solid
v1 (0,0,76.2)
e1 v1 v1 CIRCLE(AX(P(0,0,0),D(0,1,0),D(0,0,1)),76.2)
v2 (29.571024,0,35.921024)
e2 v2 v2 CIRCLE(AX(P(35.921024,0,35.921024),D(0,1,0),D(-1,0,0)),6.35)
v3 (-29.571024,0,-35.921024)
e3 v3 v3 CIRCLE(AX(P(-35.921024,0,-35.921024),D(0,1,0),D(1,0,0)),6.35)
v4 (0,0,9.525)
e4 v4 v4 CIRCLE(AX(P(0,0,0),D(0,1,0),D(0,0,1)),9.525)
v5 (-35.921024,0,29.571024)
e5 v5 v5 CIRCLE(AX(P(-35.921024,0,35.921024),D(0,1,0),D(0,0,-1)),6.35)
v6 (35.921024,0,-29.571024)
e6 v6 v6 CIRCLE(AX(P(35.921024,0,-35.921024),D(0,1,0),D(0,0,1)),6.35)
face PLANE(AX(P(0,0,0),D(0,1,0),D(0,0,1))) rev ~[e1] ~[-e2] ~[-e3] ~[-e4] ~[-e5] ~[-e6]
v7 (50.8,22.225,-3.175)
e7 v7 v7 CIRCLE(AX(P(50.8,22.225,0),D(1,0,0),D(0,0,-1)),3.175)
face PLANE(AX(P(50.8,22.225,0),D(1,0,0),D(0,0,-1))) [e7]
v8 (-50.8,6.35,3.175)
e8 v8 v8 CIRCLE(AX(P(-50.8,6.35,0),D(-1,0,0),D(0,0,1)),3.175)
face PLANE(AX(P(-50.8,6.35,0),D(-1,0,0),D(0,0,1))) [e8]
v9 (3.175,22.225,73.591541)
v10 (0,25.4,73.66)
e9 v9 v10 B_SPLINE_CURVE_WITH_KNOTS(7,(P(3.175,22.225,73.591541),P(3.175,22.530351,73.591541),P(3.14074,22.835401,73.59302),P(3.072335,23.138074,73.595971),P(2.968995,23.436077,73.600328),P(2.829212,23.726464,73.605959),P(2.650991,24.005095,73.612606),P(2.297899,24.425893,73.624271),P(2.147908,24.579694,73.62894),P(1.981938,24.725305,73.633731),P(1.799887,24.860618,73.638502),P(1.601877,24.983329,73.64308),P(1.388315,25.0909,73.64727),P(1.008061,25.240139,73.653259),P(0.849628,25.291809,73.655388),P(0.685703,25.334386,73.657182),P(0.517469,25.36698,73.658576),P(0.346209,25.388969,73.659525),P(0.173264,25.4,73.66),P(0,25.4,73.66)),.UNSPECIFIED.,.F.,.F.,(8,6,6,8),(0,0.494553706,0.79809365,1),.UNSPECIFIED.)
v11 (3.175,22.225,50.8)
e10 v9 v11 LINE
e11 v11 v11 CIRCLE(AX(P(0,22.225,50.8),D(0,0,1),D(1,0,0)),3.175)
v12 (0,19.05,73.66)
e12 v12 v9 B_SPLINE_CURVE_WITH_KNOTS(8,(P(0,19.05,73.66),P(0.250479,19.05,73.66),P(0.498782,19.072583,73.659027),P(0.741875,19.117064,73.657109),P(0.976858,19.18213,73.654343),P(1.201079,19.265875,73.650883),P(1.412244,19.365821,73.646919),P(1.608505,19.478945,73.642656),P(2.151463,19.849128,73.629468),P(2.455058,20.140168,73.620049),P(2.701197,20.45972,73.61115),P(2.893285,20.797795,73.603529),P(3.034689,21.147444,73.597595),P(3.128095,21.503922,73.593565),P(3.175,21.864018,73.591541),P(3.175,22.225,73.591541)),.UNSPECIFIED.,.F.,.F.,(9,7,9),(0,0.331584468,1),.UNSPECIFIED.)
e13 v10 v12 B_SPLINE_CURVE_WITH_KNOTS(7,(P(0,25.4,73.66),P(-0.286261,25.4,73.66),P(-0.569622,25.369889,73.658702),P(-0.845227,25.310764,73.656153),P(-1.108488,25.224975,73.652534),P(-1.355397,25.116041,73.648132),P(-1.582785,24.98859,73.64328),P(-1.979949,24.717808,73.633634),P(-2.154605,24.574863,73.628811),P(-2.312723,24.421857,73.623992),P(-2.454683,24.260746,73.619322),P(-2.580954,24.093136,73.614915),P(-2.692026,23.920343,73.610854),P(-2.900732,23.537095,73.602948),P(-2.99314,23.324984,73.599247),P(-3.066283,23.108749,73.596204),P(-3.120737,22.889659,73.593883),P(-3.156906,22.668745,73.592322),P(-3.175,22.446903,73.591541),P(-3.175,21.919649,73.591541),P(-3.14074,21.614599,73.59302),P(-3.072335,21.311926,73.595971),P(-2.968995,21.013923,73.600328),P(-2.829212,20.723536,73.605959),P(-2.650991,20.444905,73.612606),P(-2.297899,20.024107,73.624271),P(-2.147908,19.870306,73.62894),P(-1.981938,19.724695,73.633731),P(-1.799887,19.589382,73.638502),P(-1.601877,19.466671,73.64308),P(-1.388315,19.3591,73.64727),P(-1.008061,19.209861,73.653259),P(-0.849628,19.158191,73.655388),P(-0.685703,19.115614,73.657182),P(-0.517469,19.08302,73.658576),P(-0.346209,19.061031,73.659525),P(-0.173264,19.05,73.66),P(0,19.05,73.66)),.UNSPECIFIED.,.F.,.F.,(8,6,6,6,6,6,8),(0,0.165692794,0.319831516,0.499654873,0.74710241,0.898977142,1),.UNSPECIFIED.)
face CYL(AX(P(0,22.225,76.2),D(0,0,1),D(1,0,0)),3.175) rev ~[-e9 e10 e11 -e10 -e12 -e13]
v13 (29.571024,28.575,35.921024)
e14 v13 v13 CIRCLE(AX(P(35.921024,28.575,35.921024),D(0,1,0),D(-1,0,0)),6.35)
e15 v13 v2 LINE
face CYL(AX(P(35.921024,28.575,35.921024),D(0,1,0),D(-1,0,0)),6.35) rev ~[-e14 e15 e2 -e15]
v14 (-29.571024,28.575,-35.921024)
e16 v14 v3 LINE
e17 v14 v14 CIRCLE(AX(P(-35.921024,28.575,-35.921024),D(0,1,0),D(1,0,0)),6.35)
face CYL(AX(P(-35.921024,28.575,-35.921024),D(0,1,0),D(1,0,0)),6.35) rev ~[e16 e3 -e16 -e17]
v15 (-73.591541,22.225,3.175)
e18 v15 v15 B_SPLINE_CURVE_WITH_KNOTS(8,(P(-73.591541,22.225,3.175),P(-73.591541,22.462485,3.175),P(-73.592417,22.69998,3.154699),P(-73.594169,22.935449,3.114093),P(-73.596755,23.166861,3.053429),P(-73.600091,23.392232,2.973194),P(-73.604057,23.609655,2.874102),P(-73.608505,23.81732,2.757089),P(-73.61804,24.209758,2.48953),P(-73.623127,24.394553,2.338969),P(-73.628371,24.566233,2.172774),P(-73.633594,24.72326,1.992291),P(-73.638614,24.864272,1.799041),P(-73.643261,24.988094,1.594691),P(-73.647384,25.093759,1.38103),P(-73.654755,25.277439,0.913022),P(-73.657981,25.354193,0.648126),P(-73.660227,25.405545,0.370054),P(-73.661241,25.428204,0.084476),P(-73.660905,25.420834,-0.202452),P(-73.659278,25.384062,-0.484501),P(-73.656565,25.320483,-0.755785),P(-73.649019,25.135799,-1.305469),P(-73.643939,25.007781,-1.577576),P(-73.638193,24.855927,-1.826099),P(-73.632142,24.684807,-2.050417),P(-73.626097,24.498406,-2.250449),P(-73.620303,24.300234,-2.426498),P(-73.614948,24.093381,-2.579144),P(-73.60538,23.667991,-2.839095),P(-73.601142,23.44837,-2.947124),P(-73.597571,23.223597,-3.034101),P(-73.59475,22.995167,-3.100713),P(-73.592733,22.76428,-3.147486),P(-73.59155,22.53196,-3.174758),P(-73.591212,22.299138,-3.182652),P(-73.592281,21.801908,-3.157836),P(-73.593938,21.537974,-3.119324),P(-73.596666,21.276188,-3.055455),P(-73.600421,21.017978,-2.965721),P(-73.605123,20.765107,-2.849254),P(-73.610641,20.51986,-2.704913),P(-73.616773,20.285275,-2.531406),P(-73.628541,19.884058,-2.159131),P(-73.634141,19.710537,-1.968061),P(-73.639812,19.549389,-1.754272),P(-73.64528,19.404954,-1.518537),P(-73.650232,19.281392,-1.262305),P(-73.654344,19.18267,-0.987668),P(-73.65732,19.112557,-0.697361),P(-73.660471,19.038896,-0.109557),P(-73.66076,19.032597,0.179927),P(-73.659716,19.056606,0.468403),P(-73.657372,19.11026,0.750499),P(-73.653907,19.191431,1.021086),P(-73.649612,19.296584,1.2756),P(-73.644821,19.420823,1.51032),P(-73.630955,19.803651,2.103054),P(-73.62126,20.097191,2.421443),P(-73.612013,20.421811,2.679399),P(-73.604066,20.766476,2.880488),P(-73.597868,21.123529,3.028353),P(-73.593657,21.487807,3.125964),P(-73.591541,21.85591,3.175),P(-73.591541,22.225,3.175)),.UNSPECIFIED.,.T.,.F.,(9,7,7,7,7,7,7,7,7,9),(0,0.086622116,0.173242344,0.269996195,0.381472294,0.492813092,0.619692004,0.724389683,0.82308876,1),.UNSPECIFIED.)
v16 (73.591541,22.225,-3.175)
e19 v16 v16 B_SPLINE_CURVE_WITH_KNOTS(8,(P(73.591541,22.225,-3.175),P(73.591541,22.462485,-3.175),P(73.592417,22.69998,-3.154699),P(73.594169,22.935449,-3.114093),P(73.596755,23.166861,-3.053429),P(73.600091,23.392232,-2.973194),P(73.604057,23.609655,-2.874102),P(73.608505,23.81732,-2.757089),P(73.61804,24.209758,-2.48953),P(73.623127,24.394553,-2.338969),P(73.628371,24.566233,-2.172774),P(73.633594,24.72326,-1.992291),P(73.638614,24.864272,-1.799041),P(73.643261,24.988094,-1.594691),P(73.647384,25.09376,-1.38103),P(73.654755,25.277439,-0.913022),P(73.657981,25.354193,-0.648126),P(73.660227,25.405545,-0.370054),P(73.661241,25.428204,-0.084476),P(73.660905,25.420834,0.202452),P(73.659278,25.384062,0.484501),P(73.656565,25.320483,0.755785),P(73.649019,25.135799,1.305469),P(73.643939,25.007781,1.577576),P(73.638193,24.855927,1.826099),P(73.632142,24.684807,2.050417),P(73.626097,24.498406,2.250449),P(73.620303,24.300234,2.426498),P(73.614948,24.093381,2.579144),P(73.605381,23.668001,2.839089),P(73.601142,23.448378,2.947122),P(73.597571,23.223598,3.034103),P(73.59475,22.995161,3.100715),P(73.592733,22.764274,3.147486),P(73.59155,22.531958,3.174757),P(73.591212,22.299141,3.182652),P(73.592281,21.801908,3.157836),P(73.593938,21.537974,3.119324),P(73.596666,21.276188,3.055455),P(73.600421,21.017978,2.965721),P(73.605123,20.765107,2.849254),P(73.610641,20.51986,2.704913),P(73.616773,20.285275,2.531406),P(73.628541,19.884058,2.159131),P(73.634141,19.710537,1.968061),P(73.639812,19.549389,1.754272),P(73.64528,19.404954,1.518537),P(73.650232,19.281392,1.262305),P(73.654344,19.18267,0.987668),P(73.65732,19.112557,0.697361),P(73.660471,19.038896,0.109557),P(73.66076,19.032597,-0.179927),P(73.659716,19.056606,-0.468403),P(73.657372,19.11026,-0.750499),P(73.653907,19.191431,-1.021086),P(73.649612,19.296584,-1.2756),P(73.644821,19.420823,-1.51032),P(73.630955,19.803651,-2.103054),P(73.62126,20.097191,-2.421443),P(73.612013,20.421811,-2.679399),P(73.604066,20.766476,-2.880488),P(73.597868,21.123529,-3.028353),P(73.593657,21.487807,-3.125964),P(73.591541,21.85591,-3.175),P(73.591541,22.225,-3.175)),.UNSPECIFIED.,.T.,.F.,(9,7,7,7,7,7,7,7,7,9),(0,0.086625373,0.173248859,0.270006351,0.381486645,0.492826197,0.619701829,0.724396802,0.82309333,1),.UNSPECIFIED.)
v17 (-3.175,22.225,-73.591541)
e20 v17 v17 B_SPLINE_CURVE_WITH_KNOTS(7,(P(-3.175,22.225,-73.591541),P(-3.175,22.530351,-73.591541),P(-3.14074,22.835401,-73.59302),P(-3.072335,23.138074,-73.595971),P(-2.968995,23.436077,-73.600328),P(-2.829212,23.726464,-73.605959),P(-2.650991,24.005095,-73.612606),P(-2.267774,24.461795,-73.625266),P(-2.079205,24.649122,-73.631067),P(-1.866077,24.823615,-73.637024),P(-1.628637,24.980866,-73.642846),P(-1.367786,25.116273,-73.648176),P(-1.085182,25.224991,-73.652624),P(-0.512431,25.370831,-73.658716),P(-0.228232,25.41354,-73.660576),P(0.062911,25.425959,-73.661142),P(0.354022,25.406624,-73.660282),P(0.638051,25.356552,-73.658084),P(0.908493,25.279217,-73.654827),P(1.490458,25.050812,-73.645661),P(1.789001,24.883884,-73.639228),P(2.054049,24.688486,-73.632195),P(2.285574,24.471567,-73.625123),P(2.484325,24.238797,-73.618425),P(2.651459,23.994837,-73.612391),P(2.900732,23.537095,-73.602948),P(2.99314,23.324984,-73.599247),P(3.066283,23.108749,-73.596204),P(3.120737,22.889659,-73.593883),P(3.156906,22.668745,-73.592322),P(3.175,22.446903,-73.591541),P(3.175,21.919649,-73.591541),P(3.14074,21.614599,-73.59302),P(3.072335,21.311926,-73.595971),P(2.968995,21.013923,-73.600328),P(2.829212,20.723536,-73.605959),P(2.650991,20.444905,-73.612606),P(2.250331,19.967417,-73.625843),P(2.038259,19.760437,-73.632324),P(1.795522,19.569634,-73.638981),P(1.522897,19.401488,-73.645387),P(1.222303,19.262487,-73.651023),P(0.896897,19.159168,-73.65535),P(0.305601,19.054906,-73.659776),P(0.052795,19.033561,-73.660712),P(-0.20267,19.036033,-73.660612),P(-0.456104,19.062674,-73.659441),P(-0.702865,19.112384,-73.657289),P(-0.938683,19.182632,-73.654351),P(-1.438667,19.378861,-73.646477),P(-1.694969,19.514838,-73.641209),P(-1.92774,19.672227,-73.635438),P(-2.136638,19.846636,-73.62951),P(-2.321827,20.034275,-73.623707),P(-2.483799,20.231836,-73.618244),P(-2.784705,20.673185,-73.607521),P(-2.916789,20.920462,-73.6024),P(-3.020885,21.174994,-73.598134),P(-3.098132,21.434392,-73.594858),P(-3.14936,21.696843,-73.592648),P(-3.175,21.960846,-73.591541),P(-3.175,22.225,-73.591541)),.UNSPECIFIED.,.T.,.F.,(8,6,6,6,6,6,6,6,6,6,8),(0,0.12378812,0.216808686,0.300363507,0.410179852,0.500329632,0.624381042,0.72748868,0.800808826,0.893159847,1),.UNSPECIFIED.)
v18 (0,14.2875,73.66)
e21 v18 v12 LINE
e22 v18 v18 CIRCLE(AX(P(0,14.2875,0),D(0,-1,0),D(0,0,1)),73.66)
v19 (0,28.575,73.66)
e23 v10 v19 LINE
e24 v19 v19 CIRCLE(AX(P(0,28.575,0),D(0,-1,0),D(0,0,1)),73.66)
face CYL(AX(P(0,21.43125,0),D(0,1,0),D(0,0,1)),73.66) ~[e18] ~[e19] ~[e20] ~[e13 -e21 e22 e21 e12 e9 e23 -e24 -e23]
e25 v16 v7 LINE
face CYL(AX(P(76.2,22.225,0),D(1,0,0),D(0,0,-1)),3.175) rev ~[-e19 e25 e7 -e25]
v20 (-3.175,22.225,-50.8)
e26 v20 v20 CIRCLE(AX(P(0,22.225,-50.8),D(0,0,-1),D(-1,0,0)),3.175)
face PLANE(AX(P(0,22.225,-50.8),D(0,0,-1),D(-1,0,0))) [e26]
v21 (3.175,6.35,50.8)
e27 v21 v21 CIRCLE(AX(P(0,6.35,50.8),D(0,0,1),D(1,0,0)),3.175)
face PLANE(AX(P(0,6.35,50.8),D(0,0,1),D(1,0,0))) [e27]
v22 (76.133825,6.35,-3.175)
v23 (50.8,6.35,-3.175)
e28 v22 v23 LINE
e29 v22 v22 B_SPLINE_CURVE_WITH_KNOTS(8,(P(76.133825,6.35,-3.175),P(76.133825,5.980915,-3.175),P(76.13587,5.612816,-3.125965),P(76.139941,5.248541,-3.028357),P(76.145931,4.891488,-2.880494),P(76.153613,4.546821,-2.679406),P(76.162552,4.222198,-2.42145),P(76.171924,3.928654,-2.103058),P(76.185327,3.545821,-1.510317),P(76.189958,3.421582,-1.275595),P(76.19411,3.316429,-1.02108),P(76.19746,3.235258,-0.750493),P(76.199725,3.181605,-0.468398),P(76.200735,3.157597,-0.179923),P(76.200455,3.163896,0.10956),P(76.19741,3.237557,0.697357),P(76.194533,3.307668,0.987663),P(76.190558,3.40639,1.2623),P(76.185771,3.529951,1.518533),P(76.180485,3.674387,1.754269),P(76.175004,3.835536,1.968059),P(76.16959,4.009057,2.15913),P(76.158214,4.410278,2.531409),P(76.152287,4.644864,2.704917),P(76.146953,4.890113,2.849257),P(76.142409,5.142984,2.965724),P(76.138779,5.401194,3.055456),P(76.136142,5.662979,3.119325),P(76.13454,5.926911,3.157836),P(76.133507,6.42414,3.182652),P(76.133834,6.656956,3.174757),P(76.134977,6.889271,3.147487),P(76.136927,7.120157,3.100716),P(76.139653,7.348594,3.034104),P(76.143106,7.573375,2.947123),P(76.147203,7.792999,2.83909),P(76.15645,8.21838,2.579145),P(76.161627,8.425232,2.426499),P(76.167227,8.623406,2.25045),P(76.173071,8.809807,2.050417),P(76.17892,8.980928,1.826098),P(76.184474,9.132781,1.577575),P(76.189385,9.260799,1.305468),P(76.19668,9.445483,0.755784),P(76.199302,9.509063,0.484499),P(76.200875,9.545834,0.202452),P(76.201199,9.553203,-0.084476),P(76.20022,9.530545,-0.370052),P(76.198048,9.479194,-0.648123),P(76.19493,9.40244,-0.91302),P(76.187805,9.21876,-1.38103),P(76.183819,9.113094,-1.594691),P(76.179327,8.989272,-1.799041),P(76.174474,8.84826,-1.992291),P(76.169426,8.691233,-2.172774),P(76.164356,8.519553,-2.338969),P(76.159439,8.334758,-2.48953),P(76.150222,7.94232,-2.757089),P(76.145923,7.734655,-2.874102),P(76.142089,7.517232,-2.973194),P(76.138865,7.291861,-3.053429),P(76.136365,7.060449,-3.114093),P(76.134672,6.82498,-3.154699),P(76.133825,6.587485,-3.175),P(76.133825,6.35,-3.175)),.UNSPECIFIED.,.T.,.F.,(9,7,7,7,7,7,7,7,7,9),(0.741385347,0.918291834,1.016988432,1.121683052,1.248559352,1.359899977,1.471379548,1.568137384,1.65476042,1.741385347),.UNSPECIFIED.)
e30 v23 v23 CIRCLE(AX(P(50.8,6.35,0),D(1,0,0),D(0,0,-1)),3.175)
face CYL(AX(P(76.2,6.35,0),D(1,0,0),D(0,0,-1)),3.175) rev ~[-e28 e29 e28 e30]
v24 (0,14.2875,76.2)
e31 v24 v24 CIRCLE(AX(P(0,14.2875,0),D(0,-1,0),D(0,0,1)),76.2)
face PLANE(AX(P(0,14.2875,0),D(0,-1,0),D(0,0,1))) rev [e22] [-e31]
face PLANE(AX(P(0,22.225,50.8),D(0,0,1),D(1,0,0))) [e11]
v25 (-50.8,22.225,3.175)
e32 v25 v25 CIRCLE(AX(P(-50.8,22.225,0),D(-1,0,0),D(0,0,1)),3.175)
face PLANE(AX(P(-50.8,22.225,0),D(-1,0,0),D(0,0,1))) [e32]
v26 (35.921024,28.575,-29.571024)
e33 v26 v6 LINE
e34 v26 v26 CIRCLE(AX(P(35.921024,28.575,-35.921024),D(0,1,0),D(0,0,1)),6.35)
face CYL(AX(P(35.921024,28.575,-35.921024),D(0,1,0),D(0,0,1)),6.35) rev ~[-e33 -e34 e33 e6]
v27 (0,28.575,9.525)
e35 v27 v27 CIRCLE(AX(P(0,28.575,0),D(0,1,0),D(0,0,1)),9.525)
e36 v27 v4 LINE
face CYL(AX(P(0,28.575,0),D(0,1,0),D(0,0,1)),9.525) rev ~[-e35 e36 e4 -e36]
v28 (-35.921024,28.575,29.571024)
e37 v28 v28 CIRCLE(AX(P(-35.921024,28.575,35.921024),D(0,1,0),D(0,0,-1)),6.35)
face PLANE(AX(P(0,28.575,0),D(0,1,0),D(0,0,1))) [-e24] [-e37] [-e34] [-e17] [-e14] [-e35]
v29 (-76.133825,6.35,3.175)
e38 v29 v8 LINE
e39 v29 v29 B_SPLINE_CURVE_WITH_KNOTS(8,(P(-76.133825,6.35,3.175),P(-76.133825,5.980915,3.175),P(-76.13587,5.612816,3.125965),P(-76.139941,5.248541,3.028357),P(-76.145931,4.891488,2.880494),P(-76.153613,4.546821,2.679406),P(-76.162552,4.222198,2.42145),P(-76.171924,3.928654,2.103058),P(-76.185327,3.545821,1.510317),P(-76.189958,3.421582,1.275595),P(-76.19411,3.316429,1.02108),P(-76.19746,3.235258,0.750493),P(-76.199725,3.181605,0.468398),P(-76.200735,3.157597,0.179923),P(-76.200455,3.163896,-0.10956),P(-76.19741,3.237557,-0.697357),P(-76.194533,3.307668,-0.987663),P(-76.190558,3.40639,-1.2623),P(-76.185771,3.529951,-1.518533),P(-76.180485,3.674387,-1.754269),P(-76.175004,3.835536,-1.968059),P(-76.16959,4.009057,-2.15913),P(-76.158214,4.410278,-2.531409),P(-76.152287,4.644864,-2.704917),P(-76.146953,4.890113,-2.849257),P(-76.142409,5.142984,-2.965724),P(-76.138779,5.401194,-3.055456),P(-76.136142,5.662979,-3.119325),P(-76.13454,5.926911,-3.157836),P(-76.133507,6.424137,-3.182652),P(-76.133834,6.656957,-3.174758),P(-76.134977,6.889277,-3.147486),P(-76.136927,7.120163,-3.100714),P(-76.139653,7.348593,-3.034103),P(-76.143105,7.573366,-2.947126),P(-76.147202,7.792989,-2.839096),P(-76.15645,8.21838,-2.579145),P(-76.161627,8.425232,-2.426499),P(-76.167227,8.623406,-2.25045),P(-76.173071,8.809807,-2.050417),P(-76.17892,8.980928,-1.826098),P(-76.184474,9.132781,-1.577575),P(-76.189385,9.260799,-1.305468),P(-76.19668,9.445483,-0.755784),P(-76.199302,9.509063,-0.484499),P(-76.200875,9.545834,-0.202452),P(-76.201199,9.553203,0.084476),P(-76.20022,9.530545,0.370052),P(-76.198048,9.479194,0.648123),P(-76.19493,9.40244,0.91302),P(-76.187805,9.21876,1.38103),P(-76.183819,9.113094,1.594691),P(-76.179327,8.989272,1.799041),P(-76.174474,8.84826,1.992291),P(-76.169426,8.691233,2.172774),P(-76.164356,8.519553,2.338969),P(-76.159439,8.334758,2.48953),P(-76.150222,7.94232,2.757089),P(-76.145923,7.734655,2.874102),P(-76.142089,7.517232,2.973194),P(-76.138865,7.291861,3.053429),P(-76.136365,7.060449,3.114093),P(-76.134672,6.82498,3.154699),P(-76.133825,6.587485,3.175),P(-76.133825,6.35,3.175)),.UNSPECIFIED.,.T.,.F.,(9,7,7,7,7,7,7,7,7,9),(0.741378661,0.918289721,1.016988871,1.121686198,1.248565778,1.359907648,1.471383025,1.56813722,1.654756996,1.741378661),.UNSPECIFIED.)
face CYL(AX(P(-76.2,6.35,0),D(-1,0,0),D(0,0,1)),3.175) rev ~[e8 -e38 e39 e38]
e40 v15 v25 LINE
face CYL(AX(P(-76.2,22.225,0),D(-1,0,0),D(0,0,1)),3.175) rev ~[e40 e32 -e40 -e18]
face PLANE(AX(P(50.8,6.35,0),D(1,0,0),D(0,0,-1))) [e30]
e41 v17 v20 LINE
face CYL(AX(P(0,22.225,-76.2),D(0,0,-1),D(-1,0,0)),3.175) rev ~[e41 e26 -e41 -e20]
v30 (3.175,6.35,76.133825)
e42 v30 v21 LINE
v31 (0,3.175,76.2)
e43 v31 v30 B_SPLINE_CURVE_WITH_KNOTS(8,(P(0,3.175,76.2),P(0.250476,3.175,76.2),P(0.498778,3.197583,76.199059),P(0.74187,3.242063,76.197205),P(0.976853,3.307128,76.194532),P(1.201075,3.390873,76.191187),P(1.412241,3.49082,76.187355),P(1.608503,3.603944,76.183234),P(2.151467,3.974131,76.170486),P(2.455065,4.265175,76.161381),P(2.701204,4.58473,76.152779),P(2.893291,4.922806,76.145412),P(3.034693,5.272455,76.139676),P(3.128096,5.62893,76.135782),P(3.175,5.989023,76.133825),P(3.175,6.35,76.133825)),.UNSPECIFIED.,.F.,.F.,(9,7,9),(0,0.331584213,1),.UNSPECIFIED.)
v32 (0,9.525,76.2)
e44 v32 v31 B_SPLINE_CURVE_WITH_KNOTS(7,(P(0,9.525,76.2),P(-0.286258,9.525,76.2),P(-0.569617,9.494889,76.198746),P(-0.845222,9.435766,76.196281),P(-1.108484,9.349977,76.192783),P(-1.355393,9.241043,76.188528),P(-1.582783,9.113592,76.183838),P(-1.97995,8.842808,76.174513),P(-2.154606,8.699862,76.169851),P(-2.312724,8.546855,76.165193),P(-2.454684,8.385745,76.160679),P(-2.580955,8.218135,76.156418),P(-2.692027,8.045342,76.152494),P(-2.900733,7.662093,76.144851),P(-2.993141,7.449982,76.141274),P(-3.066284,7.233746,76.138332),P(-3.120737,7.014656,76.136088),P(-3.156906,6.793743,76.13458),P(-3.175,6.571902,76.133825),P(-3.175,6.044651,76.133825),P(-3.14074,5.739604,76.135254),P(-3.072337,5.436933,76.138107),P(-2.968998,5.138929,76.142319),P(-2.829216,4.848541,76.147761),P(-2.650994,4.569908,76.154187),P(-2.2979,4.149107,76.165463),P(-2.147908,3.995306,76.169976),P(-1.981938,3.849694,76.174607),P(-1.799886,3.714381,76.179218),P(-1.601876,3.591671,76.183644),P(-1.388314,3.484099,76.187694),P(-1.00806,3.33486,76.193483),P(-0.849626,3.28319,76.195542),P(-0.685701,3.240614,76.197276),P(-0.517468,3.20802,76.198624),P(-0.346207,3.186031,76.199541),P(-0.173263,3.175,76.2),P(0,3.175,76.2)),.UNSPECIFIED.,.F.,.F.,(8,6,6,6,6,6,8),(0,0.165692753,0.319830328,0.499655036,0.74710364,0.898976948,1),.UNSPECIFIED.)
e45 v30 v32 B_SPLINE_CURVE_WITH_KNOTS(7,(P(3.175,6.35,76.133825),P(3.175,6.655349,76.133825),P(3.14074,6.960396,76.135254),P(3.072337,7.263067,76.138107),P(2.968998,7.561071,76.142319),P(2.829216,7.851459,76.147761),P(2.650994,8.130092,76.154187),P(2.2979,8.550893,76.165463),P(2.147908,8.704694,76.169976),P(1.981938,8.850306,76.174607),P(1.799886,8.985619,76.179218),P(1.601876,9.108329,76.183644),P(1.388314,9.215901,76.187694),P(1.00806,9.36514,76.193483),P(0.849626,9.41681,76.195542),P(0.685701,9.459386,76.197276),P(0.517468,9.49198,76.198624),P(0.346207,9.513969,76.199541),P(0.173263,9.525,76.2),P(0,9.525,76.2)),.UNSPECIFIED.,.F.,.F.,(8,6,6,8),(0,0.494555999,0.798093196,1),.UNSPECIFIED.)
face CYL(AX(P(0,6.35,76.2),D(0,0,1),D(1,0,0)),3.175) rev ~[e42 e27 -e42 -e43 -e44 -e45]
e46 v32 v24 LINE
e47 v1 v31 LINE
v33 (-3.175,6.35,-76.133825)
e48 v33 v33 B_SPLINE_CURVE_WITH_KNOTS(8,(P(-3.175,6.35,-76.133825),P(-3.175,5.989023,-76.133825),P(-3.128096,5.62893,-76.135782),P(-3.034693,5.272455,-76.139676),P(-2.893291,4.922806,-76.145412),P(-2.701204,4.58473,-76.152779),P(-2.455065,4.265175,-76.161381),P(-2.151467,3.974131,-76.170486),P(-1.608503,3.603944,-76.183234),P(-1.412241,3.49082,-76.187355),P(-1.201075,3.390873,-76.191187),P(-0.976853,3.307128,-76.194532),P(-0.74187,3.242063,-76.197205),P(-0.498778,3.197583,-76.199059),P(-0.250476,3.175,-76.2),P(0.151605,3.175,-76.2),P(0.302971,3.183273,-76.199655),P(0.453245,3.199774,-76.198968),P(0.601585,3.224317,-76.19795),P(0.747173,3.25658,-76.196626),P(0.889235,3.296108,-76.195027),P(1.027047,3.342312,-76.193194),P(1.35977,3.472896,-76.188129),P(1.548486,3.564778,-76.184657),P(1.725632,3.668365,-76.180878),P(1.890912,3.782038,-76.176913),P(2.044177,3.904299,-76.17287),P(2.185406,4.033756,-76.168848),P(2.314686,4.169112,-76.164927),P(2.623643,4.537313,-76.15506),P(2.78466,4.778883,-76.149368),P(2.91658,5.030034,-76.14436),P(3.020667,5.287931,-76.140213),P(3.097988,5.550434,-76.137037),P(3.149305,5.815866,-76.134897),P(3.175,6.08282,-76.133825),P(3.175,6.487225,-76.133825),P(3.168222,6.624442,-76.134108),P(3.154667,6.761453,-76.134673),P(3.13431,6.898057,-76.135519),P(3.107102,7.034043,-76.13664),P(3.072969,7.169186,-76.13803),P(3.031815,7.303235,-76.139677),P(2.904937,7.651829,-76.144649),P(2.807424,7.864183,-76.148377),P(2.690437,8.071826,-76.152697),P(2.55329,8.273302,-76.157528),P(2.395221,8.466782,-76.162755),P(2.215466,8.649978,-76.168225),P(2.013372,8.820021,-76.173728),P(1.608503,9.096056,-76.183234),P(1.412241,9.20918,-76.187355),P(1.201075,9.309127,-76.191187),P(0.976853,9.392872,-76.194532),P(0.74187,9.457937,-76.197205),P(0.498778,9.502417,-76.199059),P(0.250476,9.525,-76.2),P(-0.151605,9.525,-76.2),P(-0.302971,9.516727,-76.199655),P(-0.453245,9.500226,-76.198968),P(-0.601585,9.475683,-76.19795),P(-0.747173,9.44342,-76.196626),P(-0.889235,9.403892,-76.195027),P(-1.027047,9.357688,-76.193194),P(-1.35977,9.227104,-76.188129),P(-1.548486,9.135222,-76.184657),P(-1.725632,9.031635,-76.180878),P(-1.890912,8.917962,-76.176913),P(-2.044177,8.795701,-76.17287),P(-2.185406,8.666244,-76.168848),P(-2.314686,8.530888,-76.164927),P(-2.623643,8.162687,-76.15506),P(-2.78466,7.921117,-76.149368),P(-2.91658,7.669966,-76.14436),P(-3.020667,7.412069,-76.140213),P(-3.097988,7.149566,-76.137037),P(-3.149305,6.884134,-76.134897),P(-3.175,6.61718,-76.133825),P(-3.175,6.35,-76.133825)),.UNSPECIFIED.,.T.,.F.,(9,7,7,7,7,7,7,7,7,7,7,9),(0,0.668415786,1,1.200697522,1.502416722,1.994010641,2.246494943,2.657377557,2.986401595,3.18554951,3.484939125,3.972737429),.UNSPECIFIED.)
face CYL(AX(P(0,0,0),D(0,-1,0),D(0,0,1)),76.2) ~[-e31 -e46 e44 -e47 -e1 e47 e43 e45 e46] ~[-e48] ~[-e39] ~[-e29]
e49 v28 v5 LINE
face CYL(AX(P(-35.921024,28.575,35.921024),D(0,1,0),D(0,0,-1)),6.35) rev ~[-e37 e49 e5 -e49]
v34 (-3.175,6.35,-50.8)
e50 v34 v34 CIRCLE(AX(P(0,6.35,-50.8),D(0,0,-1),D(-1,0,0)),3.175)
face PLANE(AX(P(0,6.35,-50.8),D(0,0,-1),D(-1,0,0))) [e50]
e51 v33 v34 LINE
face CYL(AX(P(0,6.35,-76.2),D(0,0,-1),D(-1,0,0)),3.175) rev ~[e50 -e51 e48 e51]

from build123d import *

# Parameters (mm, degrees)
SKETCH1_R           = 76.2
BOSS_EXTRUDE1_DEPTH = 28.575
SKETCH2_R           = 9.525
CUT_EXTRUDE1_DEPTH  = 112.48726665
SKETCH30_R          = 3.175
CUT_EXTRUDE2_DEPTH  = 25.4
CIRPATTERN3_COUNT   = 4
SKETCH31_R          = 6.35
CUT_EXTRUDE3_DEPTH  = 112.487266812
CIRPATTERN4_COUNT   = 4
SKETCH34_W          = 2.54
SKETCH34_H          = 14.2875


with BuildPart() as part:
    # Sketch1 → Boss-Extrude1 (new body)
    with BuildSketch(Plane(origin=(0, 0, 0), x_dir=(1, 0, 0), z_dir=(0, 1, 0))):
        with Locations(Location((0, 0, 0), (0, 0, 270))):
            Circle(SKETCH1_R)
    extrude(amount=BOSS_EXTRUDE1_DEPTH)

    # Sketch2 → Cut-Extrude1 (cut, through all)
    with BuildSketch(Plane(origin=(0, 28.575, 0), x_dir=(1, 0, 0), z_dir=(0, 1, 0))):
        with Locations(Location((0, 0, 0), (0, 0, 270))):
            Circle(SKETCH2_R)
    extrude(amount=-CUT_EXTRUDE1_DEPTH, mode=Mode.SUBTRACT)

    # Sketch30 → Cut-Extrude2 (cut)
    with BuildSketch(Plane.XY.offset(76.2)):
        with Locations((0, 22.225)):
            Circle(SKETCH30_R)
        with Locations((0, 6.35)):
            Circle(SKETCH30_R)
    cut_extrude2 = extrude(amount=-CUT_EXTRUDE2_DEPTH, mode=Mode.SUBTRACT)

    # CirPattern3: Cut-Extrude2 ×4 about axis
    cirpattern3_axis = Axis((0, 0, 0), (0, 1, 0))
    for i in range(1, CIRPATTERN3_COUNT):
        add(cut_extrude2.rotate(cirpattern3_axis, i * 360 / CIRPATTERN3_COUNT), mode=Mode.SUBTRACT)

    # Sketch31 → Cut-Extrude3 (cut, through all)
    with BuildSketch(Plane(origin=(0, 28.575, 0), x_dir=(1, 0, 0), z_dir=(0, 1, 0))):
        with Locations(Location((35.921024484, 35.921024484, 0), (0, 0, 270))):
            Circle(SKETCH31_R)
    cut_extrude3 = extrude(amount=-CUT_EXTRUDE3_DEPTH, mode=Mode.SUBTRACT)

    # CirPattern4: Cut-Extrude3 ×4 about axis
    cirpattern4_axis = Axis((0, 0, 0), (0, 1, 0))
    for i in range(1, CIRPATTERN4_COUNT):
        add(cut_extrude3.rotate(cirpattern4_axis, i * 360 / CIRPATTERN4_COUNT), mode=Mode.SUBTRACT)

    # Sketch34 → Cut-Revolve1 (revolve, cut)
    with BuildSketch(Plane.XY, mode=Mode.PRIVATE) as cut_revolve1_sk:
        with Locations((74.93, 21.43125)):
            Rectangle(SKETCH34_W, SKETCH34_H)
    revolve(cut_revolve1_sk.sketch.rotate(Axis((0, 28.575, 0), (0, -1, 0)), 90), axis=Axis((0, 28.575, 0), (0, -1, 0)), mode=Mode.SUBTRACT)


solid = part.part
